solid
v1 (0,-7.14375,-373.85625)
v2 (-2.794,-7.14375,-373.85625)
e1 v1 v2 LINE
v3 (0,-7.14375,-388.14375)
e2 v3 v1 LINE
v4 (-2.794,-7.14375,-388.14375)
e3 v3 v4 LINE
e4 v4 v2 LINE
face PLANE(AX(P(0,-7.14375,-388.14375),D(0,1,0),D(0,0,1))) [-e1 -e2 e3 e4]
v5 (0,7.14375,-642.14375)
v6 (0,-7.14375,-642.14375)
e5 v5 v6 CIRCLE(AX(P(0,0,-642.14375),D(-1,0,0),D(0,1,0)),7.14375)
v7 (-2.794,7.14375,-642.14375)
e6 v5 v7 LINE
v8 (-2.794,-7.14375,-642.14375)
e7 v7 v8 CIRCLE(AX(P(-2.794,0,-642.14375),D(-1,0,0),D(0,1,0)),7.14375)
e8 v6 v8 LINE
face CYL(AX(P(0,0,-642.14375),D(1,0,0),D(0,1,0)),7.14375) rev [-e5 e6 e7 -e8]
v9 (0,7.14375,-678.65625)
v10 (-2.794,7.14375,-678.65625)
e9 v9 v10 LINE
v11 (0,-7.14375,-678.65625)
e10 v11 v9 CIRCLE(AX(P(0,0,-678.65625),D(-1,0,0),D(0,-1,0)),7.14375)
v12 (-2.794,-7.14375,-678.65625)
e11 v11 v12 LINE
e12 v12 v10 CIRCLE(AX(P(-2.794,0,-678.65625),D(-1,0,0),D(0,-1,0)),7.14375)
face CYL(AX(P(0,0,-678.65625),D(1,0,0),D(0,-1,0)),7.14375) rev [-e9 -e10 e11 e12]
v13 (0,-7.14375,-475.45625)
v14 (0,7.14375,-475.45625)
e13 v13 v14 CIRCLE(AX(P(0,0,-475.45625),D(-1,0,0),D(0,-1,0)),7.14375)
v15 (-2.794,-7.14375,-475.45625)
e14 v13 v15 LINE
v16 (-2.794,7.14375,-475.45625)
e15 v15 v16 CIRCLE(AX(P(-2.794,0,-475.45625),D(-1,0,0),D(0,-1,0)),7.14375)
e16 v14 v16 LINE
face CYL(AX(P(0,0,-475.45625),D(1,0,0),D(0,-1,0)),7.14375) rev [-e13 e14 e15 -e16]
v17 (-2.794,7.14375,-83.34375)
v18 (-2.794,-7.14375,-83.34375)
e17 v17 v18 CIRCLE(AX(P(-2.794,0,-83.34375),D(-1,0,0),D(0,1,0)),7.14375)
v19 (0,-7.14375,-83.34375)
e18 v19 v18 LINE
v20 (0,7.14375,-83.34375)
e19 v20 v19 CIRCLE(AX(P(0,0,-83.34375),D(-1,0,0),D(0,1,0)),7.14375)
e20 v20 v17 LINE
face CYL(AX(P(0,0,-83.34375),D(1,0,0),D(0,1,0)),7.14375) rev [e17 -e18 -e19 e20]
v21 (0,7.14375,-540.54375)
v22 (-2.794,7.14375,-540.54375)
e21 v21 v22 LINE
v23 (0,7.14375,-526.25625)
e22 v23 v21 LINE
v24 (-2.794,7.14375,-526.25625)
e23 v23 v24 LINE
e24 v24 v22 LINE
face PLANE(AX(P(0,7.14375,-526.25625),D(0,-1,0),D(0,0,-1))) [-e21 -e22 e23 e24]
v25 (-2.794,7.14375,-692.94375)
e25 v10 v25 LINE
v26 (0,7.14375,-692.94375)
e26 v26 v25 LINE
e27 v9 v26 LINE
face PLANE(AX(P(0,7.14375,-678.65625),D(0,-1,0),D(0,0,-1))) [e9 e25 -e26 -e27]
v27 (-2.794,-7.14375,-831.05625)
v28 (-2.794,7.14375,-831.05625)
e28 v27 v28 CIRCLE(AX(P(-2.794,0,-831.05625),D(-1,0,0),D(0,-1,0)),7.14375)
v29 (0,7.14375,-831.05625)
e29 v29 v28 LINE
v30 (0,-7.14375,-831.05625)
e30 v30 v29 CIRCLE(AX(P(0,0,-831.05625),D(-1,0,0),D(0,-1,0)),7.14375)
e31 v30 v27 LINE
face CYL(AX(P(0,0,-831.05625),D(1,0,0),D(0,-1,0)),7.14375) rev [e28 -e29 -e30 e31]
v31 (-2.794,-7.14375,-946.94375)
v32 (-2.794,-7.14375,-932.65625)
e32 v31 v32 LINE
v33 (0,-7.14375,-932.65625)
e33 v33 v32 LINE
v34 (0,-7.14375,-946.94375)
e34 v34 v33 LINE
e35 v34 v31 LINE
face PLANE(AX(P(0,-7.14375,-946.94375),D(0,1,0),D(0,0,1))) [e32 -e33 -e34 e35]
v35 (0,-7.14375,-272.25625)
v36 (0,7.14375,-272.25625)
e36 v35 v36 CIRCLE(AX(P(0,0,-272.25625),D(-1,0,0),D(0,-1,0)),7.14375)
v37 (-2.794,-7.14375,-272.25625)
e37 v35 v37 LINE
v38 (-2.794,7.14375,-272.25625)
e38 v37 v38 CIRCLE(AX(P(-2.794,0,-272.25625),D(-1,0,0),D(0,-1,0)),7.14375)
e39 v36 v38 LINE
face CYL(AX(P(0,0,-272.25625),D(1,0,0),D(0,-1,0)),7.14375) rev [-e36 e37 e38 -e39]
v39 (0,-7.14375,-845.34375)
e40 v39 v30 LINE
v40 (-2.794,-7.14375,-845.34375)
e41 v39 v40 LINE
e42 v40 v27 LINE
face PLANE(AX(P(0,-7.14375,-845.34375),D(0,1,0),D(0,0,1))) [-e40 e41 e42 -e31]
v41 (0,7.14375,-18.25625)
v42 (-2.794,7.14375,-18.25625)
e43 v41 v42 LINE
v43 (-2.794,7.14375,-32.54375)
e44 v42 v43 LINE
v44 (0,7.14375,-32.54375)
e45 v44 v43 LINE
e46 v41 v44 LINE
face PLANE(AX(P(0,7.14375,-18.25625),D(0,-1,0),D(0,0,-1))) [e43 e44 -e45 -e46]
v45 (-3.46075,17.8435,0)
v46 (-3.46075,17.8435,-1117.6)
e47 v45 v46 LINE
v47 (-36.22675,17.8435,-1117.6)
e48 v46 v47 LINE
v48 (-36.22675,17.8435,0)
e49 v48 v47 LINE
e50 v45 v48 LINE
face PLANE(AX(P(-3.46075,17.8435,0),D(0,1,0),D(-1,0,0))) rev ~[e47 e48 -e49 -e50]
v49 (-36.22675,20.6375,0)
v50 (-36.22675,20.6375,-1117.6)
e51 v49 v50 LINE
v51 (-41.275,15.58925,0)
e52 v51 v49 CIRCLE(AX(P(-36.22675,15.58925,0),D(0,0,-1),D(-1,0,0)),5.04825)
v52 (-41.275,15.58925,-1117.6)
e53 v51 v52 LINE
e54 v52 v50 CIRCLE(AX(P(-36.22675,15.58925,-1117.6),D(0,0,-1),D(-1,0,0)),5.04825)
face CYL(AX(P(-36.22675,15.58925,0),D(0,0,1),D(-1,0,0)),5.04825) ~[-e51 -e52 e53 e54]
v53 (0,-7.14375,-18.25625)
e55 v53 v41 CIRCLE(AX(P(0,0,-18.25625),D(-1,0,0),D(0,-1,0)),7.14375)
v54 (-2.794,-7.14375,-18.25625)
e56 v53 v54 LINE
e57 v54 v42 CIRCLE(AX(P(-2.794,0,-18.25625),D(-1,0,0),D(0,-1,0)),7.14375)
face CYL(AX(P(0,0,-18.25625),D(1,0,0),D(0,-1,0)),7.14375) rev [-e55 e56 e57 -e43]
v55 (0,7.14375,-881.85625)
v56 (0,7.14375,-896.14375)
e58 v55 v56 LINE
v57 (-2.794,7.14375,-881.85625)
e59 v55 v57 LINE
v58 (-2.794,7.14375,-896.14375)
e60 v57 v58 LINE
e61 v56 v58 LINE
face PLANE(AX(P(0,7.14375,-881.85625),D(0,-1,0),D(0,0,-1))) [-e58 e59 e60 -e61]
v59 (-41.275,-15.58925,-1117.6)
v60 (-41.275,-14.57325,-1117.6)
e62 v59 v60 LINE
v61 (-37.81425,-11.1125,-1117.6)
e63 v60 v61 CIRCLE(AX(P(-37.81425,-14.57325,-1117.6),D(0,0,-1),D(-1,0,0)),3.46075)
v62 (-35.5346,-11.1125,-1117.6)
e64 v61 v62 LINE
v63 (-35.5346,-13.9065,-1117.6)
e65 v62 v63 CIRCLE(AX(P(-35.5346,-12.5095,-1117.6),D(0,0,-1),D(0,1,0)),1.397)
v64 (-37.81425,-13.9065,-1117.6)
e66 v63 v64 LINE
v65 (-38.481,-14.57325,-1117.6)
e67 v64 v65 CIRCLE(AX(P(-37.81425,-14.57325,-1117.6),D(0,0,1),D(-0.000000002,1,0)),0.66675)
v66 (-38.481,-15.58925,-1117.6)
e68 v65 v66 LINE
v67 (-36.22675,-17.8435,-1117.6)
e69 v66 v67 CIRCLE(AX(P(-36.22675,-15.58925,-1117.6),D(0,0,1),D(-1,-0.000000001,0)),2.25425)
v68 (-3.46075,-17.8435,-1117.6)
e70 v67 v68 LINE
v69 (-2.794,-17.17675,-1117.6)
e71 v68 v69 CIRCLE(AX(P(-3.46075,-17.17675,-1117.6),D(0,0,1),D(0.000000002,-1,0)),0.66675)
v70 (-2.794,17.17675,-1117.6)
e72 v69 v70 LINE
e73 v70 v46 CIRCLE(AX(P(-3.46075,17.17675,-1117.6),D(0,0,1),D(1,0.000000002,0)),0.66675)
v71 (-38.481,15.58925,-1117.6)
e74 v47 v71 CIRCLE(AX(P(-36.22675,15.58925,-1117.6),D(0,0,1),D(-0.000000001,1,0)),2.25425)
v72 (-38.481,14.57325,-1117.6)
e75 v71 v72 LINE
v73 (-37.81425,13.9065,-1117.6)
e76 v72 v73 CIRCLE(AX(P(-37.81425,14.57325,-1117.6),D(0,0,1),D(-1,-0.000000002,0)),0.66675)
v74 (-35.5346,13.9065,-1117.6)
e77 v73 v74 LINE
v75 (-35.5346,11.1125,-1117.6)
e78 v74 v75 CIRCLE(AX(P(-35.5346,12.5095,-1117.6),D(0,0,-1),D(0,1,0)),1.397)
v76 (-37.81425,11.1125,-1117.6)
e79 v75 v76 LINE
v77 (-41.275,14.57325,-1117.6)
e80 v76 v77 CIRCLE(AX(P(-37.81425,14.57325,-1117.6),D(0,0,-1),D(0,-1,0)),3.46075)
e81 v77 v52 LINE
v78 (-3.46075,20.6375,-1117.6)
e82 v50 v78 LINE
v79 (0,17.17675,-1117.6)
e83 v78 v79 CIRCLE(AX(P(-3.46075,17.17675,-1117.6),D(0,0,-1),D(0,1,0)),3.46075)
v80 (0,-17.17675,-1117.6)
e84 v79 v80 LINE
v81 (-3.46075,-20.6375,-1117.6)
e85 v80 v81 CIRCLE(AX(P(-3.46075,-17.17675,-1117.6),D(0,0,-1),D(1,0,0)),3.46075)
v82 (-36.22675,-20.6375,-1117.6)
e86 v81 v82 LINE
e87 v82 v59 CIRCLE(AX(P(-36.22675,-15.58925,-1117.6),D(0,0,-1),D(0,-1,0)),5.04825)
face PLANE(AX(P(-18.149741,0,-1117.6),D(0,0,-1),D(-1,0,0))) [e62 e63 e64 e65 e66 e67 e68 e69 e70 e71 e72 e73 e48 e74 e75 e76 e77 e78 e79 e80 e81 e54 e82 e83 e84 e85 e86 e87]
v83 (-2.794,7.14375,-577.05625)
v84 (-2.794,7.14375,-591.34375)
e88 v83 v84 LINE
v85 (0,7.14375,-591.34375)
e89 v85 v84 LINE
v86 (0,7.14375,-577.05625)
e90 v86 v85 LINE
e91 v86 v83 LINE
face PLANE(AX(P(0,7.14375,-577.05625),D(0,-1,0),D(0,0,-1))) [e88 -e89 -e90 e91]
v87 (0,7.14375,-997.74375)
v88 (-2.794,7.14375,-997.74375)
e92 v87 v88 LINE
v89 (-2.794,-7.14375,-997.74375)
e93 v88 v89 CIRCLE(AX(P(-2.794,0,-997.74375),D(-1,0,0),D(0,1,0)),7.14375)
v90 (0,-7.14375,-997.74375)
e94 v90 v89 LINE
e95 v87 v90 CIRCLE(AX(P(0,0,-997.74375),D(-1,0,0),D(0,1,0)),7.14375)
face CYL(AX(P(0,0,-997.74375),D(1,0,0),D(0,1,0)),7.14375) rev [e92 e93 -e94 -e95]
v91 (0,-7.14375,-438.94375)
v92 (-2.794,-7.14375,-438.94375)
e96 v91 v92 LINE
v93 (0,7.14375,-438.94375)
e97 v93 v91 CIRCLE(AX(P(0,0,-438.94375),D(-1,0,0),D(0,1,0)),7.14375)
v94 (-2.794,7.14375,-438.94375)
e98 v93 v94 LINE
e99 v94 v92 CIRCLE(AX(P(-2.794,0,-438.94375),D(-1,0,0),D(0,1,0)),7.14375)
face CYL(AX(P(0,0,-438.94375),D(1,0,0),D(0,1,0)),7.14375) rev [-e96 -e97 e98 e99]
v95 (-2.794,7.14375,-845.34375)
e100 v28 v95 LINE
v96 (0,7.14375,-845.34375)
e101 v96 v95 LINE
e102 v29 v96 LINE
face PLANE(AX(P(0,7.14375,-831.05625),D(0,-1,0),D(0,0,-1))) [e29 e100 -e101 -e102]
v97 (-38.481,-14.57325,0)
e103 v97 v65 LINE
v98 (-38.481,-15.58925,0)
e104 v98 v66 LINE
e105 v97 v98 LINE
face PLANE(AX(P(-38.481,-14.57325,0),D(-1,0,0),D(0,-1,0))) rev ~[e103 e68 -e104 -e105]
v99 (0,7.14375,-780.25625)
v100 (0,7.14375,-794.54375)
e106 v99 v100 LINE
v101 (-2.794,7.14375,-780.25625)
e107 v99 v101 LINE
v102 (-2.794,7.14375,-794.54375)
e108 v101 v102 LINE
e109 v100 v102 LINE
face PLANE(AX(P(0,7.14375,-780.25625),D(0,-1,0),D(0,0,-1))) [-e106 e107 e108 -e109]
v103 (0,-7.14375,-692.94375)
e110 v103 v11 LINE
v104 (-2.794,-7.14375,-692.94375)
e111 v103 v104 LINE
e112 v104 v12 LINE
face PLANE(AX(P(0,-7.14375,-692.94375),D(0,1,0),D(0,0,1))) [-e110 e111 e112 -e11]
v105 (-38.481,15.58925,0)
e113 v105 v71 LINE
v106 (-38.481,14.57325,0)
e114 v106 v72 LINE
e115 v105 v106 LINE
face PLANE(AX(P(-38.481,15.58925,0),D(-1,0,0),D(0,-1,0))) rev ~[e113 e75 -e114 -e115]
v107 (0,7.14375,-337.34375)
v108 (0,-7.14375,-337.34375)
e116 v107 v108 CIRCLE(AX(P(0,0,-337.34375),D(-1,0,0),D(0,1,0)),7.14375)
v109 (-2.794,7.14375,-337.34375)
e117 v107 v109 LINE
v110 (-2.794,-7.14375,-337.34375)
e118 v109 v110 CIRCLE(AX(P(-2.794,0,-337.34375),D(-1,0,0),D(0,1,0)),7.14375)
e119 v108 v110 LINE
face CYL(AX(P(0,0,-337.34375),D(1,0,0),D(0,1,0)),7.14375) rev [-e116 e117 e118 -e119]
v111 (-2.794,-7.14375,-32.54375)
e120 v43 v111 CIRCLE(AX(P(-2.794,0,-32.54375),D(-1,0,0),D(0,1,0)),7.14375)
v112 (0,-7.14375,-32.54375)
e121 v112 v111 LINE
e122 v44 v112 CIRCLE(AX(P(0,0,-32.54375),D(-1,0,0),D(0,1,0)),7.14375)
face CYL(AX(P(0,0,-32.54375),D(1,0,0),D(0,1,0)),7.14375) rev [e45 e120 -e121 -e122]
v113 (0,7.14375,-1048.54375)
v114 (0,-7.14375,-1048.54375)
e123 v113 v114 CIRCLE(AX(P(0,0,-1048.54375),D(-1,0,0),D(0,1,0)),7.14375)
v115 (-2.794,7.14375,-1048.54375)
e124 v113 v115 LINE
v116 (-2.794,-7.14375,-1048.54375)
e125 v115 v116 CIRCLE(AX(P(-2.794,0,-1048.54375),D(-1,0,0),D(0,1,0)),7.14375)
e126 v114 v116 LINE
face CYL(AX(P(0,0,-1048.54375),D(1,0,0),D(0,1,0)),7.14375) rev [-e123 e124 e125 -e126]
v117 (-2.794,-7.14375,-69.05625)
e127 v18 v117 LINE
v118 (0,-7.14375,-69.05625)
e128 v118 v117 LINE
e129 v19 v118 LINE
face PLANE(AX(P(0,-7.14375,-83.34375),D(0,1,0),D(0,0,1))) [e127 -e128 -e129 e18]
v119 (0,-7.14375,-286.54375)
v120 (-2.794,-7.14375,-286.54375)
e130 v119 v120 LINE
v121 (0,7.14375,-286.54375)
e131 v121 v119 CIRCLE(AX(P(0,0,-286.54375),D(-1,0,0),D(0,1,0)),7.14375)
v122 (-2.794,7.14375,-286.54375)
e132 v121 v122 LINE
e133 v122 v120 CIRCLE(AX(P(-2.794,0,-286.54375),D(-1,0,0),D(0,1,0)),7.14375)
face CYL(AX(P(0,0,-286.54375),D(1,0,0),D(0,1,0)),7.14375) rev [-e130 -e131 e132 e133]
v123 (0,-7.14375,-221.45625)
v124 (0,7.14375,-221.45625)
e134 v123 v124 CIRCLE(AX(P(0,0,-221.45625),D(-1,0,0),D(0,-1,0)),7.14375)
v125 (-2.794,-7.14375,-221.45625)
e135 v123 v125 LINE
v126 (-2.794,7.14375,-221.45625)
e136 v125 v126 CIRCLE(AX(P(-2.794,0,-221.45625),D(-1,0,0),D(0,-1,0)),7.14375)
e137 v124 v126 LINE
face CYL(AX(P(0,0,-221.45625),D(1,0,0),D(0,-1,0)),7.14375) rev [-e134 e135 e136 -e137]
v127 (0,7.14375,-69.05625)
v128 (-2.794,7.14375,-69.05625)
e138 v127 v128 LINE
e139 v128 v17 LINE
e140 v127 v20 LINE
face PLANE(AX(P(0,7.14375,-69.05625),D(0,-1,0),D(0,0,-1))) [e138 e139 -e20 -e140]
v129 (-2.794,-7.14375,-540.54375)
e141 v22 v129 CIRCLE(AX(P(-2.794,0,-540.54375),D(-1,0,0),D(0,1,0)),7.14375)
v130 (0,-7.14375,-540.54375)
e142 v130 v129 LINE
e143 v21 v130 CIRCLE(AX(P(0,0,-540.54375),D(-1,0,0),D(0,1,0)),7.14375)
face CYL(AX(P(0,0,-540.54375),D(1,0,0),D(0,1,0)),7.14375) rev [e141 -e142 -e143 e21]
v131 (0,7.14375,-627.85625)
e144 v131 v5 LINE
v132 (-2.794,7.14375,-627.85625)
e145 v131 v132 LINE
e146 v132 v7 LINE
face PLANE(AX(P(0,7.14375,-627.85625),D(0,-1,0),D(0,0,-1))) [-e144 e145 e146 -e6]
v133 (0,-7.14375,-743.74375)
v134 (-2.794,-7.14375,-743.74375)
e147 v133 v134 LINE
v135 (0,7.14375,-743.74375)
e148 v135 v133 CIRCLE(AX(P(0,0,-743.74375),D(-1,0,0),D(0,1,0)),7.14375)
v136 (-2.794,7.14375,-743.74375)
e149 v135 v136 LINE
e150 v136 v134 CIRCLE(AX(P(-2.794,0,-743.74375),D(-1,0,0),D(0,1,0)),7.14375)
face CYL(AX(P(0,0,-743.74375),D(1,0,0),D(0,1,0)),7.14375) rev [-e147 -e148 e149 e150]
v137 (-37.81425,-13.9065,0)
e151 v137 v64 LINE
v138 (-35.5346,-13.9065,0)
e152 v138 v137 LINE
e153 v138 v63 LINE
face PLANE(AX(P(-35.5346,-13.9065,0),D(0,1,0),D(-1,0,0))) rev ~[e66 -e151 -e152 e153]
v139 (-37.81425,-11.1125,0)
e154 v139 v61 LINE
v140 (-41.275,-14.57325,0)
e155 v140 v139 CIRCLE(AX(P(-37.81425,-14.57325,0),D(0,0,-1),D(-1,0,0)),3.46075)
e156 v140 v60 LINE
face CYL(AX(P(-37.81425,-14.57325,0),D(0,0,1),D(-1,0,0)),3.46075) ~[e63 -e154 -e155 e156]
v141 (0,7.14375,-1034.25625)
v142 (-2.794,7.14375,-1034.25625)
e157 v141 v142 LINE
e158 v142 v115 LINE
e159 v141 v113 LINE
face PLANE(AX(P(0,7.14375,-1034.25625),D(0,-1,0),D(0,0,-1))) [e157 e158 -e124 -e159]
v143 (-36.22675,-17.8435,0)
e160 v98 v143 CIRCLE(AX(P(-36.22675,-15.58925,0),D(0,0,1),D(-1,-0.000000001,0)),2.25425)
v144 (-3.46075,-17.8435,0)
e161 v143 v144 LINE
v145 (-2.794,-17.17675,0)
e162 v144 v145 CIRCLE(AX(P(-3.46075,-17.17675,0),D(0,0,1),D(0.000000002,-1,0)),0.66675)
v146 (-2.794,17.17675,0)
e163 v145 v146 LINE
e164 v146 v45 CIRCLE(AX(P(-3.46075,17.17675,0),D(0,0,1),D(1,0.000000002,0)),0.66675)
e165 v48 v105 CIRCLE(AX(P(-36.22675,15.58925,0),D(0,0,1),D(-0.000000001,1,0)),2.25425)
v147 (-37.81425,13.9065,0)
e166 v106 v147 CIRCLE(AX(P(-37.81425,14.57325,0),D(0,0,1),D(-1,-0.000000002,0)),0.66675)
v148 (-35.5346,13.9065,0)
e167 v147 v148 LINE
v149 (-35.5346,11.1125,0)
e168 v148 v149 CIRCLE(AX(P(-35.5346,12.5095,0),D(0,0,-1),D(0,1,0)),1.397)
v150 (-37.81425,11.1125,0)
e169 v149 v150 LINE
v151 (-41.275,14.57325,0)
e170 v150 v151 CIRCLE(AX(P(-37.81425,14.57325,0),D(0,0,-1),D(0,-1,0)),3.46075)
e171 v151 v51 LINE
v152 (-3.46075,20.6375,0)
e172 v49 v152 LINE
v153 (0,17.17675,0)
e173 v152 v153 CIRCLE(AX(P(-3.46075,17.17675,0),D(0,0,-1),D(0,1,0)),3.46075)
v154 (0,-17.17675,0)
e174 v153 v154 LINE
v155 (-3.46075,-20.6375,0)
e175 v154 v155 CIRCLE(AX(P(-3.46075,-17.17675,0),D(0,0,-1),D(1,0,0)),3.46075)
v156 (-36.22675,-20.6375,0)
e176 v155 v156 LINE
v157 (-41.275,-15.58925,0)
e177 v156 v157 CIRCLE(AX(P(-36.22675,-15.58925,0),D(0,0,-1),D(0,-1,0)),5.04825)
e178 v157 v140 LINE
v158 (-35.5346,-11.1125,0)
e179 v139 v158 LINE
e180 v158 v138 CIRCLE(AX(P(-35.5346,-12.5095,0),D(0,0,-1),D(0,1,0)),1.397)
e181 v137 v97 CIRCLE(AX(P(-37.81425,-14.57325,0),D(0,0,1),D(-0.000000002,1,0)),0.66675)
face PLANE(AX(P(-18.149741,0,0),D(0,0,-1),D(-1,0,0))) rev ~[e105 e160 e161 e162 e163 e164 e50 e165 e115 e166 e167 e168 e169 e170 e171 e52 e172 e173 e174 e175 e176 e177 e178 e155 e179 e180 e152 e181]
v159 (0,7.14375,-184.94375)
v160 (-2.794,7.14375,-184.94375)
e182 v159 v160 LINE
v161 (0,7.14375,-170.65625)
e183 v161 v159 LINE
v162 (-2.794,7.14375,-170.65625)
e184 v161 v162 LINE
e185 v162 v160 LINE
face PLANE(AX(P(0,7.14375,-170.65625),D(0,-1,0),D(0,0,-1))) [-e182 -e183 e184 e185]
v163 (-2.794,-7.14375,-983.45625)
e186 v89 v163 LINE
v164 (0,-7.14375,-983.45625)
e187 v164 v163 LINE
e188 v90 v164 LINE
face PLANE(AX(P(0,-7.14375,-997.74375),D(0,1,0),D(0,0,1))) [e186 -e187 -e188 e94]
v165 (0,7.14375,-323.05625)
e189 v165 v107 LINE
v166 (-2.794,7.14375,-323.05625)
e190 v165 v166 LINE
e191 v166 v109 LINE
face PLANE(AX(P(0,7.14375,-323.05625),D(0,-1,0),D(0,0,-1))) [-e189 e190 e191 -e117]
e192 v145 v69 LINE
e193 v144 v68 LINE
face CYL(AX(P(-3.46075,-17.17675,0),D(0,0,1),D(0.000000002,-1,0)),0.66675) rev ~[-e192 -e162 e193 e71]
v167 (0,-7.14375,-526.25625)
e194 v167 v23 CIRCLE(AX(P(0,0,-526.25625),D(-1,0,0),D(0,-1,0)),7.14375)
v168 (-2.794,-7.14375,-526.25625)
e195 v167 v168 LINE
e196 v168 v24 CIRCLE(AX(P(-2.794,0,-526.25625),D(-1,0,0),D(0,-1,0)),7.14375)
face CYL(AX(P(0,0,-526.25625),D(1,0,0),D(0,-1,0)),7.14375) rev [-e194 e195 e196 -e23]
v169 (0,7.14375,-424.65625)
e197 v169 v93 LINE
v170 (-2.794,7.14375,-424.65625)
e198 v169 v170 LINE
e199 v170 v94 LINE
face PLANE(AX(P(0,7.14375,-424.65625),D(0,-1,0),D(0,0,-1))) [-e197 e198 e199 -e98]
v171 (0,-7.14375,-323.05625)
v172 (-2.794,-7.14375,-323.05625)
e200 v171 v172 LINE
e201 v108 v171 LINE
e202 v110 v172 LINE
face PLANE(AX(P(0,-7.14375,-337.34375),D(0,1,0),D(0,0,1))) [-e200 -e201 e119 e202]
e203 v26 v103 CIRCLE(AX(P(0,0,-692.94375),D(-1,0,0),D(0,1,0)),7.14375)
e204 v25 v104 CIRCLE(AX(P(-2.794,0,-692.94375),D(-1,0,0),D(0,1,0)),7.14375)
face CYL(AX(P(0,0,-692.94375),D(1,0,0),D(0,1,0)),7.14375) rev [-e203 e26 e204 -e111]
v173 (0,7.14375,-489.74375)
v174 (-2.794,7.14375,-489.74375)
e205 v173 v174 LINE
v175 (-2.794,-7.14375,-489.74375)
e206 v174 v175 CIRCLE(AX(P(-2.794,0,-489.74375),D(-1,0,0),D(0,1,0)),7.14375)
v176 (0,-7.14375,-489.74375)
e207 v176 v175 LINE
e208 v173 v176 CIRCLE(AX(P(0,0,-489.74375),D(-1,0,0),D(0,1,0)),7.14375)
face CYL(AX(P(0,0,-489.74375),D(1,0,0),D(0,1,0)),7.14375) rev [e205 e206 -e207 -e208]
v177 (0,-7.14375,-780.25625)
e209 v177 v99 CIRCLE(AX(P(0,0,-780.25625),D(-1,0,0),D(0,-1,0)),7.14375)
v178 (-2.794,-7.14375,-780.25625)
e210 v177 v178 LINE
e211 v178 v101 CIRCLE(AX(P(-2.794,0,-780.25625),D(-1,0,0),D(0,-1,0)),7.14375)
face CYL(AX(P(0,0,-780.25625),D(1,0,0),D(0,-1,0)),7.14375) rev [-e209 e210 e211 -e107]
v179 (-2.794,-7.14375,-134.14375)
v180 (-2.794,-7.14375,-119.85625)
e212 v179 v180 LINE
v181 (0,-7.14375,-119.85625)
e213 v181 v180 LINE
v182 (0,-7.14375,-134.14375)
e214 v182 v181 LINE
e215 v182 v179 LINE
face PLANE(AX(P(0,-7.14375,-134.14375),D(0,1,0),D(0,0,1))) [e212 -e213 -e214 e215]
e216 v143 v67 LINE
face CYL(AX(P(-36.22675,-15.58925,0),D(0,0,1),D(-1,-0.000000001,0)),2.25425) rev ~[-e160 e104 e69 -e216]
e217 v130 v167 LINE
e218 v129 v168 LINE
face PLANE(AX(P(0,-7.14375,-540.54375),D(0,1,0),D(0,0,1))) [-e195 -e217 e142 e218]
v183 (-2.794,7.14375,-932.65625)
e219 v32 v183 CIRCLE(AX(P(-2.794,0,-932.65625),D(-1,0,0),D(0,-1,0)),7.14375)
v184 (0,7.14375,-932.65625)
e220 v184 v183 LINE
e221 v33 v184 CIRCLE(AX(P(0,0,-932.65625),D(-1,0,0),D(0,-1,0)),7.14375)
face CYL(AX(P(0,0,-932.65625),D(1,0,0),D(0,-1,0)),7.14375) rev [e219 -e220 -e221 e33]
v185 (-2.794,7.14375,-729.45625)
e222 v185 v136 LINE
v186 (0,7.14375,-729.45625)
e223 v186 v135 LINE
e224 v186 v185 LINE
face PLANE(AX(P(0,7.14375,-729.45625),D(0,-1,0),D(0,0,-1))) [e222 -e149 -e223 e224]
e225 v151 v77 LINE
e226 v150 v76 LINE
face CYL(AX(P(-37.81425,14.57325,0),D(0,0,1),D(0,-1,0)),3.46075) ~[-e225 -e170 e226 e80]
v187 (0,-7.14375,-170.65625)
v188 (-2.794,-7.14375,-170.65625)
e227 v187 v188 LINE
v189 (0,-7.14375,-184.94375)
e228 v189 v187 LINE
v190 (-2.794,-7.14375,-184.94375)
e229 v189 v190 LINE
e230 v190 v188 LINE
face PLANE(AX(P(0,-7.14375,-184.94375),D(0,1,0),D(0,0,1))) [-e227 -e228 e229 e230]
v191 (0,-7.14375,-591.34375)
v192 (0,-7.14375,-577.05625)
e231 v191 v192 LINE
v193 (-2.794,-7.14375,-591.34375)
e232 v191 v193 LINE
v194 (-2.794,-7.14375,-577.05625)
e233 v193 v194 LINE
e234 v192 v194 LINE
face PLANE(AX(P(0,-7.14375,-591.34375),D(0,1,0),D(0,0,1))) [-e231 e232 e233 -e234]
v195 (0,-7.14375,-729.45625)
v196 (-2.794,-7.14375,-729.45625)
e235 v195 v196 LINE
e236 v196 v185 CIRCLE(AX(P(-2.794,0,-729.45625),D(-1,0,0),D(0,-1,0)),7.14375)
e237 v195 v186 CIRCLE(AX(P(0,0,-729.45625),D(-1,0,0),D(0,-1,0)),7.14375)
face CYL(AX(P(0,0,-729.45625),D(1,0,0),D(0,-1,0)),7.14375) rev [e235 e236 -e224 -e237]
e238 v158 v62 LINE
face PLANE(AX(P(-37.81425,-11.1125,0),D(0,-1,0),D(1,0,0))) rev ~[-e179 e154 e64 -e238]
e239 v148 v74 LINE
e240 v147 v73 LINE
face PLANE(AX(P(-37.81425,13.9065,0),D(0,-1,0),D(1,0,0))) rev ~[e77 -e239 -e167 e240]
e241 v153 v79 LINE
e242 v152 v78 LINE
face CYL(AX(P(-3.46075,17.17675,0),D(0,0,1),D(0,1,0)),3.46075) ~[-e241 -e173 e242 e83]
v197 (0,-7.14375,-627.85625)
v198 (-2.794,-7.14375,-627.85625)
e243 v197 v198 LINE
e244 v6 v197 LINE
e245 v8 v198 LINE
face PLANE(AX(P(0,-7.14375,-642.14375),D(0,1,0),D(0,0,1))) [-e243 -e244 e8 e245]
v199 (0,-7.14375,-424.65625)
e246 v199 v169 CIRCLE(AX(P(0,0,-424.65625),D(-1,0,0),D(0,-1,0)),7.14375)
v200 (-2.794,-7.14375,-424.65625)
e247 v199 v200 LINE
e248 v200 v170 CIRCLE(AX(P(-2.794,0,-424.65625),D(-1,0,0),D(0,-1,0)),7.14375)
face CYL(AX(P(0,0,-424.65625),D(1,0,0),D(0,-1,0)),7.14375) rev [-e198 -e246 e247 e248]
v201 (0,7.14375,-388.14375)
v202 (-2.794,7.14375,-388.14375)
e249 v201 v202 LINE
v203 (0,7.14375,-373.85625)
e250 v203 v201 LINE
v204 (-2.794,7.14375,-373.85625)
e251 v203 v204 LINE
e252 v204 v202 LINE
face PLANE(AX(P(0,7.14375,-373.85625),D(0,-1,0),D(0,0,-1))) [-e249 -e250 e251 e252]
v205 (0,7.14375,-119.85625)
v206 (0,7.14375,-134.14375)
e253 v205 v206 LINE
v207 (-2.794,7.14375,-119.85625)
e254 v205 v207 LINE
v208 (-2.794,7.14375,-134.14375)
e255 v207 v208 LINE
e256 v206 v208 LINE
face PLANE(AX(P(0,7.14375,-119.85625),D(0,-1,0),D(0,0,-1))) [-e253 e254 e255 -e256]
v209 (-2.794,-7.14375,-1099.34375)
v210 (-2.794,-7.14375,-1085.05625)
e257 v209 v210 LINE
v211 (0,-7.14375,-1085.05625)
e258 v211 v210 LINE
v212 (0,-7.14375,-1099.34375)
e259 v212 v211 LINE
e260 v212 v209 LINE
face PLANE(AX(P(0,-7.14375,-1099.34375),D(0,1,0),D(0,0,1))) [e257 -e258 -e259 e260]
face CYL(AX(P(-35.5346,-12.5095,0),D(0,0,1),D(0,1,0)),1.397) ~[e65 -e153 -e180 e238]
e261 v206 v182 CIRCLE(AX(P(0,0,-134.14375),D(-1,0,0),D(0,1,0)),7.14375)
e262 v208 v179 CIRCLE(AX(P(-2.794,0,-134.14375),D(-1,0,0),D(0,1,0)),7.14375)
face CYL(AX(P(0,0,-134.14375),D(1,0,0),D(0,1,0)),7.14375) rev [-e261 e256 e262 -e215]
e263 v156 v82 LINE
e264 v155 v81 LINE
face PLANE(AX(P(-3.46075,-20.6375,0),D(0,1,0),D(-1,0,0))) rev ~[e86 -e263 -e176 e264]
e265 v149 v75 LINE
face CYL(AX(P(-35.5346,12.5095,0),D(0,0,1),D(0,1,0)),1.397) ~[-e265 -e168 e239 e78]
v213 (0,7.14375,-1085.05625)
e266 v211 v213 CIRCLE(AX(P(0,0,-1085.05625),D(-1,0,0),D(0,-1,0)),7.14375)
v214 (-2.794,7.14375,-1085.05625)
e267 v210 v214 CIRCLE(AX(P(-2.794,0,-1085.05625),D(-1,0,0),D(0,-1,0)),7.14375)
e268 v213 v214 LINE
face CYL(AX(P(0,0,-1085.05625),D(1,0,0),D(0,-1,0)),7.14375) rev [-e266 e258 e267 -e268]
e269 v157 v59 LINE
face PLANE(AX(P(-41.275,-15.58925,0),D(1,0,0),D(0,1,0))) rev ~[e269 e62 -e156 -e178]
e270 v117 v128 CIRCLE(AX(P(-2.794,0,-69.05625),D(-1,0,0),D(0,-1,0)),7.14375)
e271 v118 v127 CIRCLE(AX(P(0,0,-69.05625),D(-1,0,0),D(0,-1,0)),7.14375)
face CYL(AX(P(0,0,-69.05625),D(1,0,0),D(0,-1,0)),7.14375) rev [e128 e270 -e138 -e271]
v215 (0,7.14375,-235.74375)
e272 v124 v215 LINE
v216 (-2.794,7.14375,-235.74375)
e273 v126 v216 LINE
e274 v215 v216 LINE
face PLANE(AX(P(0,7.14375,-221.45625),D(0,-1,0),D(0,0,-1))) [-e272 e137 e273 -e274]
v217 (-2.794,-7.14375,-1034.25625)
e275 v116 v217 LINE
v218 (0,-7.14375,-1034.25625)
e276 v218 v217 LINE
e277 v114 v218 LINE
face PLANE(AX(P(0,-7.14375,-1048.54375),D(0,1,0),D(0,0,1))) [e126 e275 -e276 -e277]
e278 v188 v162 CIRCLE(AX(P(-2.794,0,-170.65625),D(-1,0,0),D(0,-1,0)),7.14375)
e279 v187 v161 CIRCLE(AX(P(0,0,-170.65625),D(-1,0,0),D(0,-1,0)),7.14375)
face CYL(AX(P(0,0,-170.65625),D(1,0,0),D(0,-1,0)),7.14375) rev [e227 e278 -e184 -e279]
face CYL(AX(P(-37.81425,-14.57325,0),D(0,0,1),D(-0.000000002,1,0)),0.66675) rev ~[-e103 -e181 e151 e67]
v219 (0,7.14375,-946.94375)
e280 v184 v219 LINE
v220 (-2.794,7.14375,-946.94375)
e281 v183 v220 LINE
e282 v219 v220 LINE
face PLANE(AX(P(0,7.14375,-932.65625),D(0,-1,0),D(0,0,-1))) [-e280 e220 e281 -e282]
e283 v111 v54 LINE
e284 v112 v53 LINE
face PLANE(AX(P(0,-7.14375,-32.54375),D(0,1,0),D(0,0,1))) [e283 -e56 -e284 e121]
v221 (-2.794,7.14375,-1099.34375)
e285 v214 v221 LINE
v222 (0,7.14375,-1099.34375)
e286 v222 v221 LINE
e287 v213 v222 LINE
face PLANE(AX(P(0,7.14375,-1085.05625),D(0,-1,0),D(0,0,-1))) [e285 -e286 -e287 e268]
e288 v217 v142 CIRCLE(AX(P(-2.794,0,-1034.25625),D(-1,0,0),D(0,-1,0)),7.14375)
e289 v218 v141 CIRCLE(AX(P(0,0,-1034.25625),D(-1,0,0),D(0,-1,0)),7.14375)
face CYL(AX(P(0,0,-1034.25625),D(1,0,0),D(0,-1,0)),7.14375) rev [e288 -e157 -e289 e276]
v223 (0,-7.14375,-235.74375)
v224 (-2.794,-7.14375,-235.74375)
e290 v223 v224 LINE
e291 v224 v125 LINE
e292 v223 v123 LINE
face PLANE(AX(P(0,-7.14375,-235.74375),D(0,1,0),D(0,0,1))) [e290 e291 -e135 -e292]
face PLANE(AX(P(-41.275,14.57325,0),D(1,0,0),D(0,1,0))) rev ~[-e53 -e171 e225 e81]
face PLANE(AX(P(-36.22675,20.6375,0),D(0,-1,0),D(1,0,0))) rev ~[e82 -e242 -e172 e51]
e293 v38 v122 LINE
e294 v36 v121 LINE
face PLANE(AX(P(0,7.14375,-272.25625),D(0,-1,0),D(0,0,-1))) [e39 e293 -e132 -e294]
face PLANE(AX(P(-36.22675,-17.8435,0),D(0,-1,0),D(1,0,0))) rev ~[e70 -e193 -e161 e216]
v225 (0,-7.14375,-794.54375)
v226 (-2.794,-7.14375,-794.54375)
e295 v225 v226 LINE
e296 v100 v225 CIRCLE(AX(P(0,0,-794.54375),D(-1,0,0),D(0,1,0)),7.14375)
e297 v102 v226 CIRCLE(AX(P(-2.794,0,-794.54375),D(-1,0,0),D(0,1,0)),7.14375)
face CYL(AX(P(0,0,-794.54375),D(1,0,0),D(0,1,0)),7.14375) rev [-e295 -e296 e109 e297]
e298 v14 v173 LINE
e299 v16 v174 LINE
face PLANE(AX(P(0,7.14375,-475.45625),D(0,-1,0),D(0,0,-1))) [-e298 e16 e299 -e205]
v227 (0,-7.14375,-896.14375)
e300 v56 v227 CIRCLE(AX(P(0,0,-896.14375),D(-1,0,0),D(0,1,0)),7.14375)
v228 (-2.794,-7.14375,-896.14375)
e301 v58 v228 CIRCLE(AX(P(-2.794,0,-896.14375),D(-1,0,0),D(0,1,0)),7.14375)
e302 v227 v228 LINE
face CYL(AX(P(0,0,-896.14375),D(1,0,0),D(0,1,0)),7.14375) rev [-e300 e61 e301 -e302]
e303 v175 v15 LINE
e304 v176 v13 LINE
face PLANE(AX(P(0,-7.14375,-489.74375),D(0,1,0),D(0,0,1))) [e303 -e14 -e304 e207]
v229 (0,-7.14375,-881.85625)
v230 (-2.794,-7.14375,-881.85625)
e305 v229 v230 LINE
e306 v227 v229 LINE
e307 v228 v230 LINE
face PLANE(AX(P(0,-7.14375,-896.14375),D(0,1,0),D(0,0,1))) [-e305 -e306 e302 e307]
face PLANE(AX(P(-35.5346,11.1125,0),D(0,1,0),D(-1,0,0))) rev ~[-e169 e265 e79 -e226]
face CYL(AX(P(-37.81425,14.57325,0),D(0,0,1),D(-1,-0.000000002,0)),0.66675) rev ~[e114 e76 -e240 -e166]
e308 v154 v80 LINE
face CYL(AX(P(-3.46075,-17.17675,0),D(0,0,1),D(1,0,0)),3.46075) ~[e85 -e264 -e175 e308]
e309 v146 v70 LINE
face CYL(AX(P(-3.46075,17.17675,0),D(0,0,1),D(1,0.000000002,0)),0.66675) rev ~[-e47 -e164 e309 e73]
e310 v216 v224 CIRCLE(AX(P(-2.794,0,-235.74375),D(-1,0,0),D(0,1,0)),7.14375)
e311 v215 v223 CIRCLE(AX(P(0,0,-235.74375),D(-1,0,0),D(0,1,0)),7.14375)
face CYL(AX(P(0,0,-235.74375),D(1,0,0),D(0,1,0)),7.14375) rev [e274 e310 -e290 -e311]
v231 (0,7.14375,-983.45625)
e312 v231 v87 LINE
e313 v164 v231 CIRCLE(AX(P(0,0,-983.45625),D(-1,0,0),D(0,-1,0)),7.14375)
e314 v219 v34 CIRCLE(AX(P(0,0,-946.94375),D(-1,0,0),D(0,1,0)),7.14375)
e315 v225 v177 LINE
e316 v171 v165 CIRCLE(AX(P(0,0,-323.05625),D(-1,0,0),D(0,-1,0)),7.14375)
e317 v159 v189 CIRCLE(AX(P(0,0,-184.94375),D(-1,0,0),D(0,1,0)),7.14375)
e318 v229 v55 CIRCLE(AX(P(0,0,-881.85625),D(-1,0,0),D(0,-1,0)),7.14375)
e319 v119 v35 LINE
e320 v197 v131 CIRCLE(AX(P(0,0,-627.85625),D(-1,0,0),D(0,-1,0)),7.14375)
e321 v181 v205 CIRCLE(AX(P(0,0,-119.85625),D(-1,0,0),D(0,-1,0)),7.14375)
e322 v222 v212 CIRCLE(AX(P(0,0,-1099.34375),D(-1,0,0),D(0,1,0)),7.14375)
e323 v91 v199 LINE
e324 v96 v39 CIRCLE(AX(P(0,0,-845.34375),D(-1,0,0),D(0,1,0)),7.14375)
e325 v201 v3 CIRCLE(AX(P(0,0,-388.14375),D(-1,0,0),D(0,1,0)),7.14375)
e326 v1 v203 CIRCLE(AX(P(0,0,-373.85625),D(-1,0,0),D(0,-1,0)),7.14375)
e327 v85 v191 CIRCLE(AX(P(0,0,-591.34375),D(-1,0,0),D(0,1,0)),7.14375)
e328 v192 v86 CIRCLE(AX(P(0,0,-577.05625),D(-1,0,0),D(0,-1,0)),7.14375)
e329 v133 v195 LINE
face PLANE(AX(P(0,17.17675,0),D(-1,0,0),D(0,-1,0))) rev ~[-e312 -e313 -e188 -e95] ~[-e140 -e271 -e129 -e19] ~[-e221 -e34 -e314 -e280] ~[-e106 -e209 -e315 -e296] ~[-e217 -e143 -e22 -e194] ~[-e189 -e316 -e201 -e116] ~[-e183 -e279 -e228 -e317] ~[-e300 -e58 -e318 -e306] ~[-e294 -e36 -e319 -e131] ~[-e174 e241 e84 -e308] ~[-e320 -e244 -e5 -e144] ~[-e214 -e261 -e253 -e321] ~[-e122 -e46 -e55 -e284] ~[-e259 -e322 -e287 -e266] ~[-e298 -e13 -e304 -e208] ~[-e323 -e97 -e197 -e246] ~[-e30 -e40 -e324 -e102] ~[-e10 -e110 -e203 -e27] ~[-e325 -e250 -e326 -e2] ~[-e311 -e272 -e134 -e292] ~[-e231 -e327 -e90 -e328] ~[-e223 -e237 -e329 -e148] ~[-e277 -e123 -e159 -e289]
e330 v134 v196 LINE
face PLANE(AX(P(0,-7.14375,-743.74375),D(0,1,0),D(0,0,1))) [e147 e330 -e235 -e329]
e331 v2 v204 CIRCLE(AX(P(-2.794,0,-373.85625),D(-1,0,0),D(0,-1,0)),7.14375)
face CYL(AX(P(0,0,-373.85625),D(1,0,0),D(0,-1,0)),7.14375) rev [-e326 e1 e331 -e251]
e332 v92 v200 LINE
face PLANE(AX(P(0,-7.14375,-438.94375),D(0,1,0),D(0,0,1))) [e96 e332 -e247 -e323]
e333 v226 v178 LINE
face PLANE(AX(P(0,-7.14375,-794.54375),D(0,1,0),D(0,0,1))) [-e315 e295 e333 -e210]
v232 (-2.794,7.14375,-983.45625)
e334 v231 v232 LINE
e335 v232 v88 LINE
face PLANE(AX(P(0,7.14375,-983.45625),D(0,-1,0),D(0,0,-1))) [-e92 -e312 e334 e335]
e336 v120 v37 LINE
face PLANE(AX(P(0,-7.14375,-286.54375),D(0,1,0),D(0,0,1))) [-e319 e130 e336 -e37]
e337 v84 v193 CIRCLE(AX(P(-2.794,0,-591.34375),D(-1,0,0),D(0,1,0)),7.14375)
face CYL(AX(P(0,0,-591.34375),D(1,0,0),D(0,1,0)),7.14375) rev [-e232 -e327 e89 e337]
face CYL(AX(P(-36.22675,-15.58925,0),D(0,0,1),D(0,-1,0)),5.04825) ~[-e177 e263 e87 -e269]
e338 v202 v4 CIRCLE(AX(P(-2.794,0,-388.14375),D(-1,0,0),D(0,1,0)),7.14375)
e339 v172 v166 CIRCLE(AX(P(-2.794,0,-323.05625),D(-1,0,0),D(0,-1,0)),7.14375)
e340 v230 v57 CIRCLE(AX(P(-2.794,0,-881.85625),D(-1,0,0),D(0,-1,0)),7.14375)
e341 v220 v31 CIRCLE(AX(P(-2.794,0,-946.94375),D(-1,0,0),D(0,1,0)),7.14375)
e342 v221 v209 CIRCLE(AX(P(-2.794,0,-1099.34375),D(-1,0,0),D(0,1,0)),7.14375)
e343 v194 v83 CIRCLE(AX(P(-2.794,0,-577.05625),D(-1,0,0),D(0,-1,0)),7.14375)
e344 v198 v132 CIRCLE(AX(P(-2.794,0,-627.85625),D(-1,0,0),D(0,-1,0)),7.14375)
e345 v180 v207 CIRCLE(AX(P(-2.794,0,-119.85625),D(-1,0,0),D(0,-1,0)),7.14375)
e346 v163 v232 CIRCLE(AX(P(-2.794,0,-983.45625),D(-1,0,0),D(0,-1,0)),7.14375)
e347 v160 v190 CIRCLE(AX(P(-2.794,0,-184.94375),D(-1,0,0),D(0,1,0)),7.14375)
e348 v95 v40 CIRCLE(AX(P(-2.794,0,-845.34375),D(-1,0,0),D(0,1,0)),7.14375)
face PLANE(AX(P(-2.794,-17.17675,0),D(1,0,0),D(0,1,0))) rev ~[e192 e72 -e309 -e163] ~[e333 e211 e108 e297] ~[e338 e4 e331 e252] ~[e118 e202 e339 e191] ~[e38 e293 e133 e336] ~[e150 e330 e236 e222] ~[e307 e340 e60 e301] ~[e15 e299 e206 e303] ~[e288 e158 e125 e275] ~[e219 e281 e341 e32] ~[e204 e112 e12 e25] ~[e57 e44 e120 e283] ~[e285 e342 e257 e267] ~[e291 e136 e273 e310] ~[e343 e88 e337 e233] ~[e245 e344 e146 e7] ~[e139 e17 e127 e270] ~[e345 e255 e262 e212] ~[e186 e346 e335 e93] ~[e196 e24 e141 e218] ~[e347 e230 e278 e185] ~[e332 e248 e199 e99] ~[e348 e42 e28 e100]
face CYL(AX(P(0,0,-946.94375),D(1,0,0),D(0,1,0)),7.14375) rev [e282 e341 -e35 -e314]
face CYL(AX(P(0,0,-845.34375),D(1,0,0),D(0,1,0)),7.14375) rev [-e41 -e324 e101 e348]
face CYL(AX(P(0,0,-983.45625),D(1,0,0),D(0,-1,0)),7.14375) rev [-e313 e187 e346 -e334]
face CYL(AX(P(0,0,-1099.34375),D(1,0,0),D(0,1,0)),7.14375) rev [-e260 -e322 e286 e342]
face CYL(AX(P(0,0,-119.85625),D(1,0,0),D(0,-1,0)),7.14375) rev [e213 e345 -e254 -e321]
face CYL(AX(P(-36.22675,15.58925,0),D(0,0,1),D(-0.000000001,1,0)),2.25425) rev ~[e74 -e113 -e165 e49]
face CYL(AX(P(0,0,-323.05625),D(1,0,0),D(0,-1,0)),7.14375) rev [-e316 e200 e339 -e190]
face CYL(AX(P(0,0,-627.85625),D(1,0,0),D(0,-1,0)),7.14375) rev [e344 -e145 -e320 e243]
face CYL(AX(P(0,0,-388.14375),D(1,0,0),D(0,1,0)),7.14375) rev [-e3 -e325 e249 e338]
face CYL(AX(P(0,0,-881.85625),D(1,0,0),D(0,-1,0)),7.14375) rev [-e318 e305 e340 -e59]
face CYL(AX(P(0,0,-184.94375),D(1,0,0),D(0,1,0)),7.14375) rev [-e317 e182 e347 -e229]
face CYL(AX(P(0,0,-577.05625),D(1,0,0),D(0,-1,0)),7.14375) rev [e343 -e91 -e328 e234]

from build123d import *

# Parameters (mm, degrees)
BOSS_EXTRUDE1_DEPTH = 1117.6
CUT_EXTRUDE1_DEPTH  = 2.794
LPATTERN1_COUNT     = 22
LPATTERN1_PITCH     = 50.8


with BuildPart() as part:
    # Sketch1 → Boss-Extrude1 (new body)
    with BuildSketch(Plane.XY):
        with BuildLine():
            Line((-36.22675, 20.6375), (-3.46075, 20.6375))
            ThreePointArc((-3.46075, 20.6375), (-1.013630207, 19.623869793), (0, 17.17675))
            Line((0, 17.17675), (0, -17.17675))
            ThreePointArc((0, -17.17675), (-1.013630207, -19.623869793), (-3.46075, -20.6375))
            Line((-3.46075, -20.6375), (-36.22675, -20.6375))
            ThreePointArc((-36.22675, -20.6375), (-39.796401808, -19.158901808), (-41.275, -15.58925))
            Line((-41.275, -15.58925), (-41.275, -14.57325))
            ThreePointArc((-41.275, -14.57325), (-40.261369793, -12.126130207), (-37.81425, -11.1125))
            Line((-37.81425, -11.1125), (-35.5346, -11.1125))
            ThreePointArc((-35.5346, -11.1125), (-34.1376, -12.5095), (-35.5346, -13.9065))
            Line((-35.5346, -13.9065), (-37.81425, -13.9065))
            ThreePointArc((-37.81425, -13.9065), (-38.285713446, -14.101786554), (-38.481, -14.57325))
            Line((-38.481, -14.57325), (-38.481, -15.58925))
            ThreePointArc((-38.481, -15.58925), (-37.820745461, -17.183245461), (-36.22675, -17.8435))
            Line((-36.22675, -17.8435), (-3.46075, -17.8435))
            ThreePointArc((-3.46075, -17.8435), (-2.989286554, -17.648213446), (-2.794, -17.17675))
            Line((-2.794, -17.17675), (-2.794, 17.17675))
            ThreePointArc((-2.794, 17.17675), (-2.989286554, 17.648213446), (-3.46075, 17.8435))
            Line((-3.46075, 17.8435), (-36.22675, 17.8435))
            ThreePointArc((-36.22675, 17.8435), (-37.820745461, 17.183245461), (-38.481, 15.58925))
            Line((-38.481, 15.58925), (-38.481, 14.57325))
            ThreePointArc((-38.481, 14.57325), (-38.285713446, 14.101786554), (-37.81425, 13.9065))
            Line((-37.81425, 13.9065), (-35.5346, 13.9065))
            ThreePointArc((-35.5346, 13.9065), (-34.1376, 12.5095), (-35.5346, 11.1125))
            Line((-35.5346, 11.1125), (-37.81425, 11.1125))
            ThreePointArc((-37.81425, 11.1125), (-40.261369793, 12.126130207), (-41.275, 14.57325))
            Line((-41.275, 14.57325), (-41.275, 15.58925))
            ThreePointArc((-41.275, 15.58925), (-39.796401808, 19.158901808), (-36.22675, 20.6375))
        make_face()
    extrude(amount=-BOSS_EXTRUDE1_DEPTH)

    # Sketch2 → Cut-Extrude1 (cut)
    with BuildSketch(Plane(origin=(0, 0, 0), x_dir=(0, 0, -1), z_dir=(1, 0, 0))):
        with BuildLine():
            Line((18.25625, 7.14375), (32.54375, 7.14375))
            ThreePointArc((32.54375, 7.14375), (39.6875, 0), (32.54375, -7.14375))
            Line((32.54375, -7.14375), (18.25625, -7.14375))
            ThreePointArc((18.25625, -7.14375), (11.1125, 0), (18.25625, 7.14375))
        make_face()
    cut_extrude1 = extrude(amount=-CUT_EXTRUDE1_DEPTH, mode=Mode.SUBTRACT)

    # LPattern1: Cut-Extrude1 ×22
    with Locations(*[(0, 0, -i * LPATTERN1_PITCH) for i in range(1, LPATTERN1_COUNT)]):
        add(cut_extrude1, mode=Mode.SUBTRACT)


solid = part.part
